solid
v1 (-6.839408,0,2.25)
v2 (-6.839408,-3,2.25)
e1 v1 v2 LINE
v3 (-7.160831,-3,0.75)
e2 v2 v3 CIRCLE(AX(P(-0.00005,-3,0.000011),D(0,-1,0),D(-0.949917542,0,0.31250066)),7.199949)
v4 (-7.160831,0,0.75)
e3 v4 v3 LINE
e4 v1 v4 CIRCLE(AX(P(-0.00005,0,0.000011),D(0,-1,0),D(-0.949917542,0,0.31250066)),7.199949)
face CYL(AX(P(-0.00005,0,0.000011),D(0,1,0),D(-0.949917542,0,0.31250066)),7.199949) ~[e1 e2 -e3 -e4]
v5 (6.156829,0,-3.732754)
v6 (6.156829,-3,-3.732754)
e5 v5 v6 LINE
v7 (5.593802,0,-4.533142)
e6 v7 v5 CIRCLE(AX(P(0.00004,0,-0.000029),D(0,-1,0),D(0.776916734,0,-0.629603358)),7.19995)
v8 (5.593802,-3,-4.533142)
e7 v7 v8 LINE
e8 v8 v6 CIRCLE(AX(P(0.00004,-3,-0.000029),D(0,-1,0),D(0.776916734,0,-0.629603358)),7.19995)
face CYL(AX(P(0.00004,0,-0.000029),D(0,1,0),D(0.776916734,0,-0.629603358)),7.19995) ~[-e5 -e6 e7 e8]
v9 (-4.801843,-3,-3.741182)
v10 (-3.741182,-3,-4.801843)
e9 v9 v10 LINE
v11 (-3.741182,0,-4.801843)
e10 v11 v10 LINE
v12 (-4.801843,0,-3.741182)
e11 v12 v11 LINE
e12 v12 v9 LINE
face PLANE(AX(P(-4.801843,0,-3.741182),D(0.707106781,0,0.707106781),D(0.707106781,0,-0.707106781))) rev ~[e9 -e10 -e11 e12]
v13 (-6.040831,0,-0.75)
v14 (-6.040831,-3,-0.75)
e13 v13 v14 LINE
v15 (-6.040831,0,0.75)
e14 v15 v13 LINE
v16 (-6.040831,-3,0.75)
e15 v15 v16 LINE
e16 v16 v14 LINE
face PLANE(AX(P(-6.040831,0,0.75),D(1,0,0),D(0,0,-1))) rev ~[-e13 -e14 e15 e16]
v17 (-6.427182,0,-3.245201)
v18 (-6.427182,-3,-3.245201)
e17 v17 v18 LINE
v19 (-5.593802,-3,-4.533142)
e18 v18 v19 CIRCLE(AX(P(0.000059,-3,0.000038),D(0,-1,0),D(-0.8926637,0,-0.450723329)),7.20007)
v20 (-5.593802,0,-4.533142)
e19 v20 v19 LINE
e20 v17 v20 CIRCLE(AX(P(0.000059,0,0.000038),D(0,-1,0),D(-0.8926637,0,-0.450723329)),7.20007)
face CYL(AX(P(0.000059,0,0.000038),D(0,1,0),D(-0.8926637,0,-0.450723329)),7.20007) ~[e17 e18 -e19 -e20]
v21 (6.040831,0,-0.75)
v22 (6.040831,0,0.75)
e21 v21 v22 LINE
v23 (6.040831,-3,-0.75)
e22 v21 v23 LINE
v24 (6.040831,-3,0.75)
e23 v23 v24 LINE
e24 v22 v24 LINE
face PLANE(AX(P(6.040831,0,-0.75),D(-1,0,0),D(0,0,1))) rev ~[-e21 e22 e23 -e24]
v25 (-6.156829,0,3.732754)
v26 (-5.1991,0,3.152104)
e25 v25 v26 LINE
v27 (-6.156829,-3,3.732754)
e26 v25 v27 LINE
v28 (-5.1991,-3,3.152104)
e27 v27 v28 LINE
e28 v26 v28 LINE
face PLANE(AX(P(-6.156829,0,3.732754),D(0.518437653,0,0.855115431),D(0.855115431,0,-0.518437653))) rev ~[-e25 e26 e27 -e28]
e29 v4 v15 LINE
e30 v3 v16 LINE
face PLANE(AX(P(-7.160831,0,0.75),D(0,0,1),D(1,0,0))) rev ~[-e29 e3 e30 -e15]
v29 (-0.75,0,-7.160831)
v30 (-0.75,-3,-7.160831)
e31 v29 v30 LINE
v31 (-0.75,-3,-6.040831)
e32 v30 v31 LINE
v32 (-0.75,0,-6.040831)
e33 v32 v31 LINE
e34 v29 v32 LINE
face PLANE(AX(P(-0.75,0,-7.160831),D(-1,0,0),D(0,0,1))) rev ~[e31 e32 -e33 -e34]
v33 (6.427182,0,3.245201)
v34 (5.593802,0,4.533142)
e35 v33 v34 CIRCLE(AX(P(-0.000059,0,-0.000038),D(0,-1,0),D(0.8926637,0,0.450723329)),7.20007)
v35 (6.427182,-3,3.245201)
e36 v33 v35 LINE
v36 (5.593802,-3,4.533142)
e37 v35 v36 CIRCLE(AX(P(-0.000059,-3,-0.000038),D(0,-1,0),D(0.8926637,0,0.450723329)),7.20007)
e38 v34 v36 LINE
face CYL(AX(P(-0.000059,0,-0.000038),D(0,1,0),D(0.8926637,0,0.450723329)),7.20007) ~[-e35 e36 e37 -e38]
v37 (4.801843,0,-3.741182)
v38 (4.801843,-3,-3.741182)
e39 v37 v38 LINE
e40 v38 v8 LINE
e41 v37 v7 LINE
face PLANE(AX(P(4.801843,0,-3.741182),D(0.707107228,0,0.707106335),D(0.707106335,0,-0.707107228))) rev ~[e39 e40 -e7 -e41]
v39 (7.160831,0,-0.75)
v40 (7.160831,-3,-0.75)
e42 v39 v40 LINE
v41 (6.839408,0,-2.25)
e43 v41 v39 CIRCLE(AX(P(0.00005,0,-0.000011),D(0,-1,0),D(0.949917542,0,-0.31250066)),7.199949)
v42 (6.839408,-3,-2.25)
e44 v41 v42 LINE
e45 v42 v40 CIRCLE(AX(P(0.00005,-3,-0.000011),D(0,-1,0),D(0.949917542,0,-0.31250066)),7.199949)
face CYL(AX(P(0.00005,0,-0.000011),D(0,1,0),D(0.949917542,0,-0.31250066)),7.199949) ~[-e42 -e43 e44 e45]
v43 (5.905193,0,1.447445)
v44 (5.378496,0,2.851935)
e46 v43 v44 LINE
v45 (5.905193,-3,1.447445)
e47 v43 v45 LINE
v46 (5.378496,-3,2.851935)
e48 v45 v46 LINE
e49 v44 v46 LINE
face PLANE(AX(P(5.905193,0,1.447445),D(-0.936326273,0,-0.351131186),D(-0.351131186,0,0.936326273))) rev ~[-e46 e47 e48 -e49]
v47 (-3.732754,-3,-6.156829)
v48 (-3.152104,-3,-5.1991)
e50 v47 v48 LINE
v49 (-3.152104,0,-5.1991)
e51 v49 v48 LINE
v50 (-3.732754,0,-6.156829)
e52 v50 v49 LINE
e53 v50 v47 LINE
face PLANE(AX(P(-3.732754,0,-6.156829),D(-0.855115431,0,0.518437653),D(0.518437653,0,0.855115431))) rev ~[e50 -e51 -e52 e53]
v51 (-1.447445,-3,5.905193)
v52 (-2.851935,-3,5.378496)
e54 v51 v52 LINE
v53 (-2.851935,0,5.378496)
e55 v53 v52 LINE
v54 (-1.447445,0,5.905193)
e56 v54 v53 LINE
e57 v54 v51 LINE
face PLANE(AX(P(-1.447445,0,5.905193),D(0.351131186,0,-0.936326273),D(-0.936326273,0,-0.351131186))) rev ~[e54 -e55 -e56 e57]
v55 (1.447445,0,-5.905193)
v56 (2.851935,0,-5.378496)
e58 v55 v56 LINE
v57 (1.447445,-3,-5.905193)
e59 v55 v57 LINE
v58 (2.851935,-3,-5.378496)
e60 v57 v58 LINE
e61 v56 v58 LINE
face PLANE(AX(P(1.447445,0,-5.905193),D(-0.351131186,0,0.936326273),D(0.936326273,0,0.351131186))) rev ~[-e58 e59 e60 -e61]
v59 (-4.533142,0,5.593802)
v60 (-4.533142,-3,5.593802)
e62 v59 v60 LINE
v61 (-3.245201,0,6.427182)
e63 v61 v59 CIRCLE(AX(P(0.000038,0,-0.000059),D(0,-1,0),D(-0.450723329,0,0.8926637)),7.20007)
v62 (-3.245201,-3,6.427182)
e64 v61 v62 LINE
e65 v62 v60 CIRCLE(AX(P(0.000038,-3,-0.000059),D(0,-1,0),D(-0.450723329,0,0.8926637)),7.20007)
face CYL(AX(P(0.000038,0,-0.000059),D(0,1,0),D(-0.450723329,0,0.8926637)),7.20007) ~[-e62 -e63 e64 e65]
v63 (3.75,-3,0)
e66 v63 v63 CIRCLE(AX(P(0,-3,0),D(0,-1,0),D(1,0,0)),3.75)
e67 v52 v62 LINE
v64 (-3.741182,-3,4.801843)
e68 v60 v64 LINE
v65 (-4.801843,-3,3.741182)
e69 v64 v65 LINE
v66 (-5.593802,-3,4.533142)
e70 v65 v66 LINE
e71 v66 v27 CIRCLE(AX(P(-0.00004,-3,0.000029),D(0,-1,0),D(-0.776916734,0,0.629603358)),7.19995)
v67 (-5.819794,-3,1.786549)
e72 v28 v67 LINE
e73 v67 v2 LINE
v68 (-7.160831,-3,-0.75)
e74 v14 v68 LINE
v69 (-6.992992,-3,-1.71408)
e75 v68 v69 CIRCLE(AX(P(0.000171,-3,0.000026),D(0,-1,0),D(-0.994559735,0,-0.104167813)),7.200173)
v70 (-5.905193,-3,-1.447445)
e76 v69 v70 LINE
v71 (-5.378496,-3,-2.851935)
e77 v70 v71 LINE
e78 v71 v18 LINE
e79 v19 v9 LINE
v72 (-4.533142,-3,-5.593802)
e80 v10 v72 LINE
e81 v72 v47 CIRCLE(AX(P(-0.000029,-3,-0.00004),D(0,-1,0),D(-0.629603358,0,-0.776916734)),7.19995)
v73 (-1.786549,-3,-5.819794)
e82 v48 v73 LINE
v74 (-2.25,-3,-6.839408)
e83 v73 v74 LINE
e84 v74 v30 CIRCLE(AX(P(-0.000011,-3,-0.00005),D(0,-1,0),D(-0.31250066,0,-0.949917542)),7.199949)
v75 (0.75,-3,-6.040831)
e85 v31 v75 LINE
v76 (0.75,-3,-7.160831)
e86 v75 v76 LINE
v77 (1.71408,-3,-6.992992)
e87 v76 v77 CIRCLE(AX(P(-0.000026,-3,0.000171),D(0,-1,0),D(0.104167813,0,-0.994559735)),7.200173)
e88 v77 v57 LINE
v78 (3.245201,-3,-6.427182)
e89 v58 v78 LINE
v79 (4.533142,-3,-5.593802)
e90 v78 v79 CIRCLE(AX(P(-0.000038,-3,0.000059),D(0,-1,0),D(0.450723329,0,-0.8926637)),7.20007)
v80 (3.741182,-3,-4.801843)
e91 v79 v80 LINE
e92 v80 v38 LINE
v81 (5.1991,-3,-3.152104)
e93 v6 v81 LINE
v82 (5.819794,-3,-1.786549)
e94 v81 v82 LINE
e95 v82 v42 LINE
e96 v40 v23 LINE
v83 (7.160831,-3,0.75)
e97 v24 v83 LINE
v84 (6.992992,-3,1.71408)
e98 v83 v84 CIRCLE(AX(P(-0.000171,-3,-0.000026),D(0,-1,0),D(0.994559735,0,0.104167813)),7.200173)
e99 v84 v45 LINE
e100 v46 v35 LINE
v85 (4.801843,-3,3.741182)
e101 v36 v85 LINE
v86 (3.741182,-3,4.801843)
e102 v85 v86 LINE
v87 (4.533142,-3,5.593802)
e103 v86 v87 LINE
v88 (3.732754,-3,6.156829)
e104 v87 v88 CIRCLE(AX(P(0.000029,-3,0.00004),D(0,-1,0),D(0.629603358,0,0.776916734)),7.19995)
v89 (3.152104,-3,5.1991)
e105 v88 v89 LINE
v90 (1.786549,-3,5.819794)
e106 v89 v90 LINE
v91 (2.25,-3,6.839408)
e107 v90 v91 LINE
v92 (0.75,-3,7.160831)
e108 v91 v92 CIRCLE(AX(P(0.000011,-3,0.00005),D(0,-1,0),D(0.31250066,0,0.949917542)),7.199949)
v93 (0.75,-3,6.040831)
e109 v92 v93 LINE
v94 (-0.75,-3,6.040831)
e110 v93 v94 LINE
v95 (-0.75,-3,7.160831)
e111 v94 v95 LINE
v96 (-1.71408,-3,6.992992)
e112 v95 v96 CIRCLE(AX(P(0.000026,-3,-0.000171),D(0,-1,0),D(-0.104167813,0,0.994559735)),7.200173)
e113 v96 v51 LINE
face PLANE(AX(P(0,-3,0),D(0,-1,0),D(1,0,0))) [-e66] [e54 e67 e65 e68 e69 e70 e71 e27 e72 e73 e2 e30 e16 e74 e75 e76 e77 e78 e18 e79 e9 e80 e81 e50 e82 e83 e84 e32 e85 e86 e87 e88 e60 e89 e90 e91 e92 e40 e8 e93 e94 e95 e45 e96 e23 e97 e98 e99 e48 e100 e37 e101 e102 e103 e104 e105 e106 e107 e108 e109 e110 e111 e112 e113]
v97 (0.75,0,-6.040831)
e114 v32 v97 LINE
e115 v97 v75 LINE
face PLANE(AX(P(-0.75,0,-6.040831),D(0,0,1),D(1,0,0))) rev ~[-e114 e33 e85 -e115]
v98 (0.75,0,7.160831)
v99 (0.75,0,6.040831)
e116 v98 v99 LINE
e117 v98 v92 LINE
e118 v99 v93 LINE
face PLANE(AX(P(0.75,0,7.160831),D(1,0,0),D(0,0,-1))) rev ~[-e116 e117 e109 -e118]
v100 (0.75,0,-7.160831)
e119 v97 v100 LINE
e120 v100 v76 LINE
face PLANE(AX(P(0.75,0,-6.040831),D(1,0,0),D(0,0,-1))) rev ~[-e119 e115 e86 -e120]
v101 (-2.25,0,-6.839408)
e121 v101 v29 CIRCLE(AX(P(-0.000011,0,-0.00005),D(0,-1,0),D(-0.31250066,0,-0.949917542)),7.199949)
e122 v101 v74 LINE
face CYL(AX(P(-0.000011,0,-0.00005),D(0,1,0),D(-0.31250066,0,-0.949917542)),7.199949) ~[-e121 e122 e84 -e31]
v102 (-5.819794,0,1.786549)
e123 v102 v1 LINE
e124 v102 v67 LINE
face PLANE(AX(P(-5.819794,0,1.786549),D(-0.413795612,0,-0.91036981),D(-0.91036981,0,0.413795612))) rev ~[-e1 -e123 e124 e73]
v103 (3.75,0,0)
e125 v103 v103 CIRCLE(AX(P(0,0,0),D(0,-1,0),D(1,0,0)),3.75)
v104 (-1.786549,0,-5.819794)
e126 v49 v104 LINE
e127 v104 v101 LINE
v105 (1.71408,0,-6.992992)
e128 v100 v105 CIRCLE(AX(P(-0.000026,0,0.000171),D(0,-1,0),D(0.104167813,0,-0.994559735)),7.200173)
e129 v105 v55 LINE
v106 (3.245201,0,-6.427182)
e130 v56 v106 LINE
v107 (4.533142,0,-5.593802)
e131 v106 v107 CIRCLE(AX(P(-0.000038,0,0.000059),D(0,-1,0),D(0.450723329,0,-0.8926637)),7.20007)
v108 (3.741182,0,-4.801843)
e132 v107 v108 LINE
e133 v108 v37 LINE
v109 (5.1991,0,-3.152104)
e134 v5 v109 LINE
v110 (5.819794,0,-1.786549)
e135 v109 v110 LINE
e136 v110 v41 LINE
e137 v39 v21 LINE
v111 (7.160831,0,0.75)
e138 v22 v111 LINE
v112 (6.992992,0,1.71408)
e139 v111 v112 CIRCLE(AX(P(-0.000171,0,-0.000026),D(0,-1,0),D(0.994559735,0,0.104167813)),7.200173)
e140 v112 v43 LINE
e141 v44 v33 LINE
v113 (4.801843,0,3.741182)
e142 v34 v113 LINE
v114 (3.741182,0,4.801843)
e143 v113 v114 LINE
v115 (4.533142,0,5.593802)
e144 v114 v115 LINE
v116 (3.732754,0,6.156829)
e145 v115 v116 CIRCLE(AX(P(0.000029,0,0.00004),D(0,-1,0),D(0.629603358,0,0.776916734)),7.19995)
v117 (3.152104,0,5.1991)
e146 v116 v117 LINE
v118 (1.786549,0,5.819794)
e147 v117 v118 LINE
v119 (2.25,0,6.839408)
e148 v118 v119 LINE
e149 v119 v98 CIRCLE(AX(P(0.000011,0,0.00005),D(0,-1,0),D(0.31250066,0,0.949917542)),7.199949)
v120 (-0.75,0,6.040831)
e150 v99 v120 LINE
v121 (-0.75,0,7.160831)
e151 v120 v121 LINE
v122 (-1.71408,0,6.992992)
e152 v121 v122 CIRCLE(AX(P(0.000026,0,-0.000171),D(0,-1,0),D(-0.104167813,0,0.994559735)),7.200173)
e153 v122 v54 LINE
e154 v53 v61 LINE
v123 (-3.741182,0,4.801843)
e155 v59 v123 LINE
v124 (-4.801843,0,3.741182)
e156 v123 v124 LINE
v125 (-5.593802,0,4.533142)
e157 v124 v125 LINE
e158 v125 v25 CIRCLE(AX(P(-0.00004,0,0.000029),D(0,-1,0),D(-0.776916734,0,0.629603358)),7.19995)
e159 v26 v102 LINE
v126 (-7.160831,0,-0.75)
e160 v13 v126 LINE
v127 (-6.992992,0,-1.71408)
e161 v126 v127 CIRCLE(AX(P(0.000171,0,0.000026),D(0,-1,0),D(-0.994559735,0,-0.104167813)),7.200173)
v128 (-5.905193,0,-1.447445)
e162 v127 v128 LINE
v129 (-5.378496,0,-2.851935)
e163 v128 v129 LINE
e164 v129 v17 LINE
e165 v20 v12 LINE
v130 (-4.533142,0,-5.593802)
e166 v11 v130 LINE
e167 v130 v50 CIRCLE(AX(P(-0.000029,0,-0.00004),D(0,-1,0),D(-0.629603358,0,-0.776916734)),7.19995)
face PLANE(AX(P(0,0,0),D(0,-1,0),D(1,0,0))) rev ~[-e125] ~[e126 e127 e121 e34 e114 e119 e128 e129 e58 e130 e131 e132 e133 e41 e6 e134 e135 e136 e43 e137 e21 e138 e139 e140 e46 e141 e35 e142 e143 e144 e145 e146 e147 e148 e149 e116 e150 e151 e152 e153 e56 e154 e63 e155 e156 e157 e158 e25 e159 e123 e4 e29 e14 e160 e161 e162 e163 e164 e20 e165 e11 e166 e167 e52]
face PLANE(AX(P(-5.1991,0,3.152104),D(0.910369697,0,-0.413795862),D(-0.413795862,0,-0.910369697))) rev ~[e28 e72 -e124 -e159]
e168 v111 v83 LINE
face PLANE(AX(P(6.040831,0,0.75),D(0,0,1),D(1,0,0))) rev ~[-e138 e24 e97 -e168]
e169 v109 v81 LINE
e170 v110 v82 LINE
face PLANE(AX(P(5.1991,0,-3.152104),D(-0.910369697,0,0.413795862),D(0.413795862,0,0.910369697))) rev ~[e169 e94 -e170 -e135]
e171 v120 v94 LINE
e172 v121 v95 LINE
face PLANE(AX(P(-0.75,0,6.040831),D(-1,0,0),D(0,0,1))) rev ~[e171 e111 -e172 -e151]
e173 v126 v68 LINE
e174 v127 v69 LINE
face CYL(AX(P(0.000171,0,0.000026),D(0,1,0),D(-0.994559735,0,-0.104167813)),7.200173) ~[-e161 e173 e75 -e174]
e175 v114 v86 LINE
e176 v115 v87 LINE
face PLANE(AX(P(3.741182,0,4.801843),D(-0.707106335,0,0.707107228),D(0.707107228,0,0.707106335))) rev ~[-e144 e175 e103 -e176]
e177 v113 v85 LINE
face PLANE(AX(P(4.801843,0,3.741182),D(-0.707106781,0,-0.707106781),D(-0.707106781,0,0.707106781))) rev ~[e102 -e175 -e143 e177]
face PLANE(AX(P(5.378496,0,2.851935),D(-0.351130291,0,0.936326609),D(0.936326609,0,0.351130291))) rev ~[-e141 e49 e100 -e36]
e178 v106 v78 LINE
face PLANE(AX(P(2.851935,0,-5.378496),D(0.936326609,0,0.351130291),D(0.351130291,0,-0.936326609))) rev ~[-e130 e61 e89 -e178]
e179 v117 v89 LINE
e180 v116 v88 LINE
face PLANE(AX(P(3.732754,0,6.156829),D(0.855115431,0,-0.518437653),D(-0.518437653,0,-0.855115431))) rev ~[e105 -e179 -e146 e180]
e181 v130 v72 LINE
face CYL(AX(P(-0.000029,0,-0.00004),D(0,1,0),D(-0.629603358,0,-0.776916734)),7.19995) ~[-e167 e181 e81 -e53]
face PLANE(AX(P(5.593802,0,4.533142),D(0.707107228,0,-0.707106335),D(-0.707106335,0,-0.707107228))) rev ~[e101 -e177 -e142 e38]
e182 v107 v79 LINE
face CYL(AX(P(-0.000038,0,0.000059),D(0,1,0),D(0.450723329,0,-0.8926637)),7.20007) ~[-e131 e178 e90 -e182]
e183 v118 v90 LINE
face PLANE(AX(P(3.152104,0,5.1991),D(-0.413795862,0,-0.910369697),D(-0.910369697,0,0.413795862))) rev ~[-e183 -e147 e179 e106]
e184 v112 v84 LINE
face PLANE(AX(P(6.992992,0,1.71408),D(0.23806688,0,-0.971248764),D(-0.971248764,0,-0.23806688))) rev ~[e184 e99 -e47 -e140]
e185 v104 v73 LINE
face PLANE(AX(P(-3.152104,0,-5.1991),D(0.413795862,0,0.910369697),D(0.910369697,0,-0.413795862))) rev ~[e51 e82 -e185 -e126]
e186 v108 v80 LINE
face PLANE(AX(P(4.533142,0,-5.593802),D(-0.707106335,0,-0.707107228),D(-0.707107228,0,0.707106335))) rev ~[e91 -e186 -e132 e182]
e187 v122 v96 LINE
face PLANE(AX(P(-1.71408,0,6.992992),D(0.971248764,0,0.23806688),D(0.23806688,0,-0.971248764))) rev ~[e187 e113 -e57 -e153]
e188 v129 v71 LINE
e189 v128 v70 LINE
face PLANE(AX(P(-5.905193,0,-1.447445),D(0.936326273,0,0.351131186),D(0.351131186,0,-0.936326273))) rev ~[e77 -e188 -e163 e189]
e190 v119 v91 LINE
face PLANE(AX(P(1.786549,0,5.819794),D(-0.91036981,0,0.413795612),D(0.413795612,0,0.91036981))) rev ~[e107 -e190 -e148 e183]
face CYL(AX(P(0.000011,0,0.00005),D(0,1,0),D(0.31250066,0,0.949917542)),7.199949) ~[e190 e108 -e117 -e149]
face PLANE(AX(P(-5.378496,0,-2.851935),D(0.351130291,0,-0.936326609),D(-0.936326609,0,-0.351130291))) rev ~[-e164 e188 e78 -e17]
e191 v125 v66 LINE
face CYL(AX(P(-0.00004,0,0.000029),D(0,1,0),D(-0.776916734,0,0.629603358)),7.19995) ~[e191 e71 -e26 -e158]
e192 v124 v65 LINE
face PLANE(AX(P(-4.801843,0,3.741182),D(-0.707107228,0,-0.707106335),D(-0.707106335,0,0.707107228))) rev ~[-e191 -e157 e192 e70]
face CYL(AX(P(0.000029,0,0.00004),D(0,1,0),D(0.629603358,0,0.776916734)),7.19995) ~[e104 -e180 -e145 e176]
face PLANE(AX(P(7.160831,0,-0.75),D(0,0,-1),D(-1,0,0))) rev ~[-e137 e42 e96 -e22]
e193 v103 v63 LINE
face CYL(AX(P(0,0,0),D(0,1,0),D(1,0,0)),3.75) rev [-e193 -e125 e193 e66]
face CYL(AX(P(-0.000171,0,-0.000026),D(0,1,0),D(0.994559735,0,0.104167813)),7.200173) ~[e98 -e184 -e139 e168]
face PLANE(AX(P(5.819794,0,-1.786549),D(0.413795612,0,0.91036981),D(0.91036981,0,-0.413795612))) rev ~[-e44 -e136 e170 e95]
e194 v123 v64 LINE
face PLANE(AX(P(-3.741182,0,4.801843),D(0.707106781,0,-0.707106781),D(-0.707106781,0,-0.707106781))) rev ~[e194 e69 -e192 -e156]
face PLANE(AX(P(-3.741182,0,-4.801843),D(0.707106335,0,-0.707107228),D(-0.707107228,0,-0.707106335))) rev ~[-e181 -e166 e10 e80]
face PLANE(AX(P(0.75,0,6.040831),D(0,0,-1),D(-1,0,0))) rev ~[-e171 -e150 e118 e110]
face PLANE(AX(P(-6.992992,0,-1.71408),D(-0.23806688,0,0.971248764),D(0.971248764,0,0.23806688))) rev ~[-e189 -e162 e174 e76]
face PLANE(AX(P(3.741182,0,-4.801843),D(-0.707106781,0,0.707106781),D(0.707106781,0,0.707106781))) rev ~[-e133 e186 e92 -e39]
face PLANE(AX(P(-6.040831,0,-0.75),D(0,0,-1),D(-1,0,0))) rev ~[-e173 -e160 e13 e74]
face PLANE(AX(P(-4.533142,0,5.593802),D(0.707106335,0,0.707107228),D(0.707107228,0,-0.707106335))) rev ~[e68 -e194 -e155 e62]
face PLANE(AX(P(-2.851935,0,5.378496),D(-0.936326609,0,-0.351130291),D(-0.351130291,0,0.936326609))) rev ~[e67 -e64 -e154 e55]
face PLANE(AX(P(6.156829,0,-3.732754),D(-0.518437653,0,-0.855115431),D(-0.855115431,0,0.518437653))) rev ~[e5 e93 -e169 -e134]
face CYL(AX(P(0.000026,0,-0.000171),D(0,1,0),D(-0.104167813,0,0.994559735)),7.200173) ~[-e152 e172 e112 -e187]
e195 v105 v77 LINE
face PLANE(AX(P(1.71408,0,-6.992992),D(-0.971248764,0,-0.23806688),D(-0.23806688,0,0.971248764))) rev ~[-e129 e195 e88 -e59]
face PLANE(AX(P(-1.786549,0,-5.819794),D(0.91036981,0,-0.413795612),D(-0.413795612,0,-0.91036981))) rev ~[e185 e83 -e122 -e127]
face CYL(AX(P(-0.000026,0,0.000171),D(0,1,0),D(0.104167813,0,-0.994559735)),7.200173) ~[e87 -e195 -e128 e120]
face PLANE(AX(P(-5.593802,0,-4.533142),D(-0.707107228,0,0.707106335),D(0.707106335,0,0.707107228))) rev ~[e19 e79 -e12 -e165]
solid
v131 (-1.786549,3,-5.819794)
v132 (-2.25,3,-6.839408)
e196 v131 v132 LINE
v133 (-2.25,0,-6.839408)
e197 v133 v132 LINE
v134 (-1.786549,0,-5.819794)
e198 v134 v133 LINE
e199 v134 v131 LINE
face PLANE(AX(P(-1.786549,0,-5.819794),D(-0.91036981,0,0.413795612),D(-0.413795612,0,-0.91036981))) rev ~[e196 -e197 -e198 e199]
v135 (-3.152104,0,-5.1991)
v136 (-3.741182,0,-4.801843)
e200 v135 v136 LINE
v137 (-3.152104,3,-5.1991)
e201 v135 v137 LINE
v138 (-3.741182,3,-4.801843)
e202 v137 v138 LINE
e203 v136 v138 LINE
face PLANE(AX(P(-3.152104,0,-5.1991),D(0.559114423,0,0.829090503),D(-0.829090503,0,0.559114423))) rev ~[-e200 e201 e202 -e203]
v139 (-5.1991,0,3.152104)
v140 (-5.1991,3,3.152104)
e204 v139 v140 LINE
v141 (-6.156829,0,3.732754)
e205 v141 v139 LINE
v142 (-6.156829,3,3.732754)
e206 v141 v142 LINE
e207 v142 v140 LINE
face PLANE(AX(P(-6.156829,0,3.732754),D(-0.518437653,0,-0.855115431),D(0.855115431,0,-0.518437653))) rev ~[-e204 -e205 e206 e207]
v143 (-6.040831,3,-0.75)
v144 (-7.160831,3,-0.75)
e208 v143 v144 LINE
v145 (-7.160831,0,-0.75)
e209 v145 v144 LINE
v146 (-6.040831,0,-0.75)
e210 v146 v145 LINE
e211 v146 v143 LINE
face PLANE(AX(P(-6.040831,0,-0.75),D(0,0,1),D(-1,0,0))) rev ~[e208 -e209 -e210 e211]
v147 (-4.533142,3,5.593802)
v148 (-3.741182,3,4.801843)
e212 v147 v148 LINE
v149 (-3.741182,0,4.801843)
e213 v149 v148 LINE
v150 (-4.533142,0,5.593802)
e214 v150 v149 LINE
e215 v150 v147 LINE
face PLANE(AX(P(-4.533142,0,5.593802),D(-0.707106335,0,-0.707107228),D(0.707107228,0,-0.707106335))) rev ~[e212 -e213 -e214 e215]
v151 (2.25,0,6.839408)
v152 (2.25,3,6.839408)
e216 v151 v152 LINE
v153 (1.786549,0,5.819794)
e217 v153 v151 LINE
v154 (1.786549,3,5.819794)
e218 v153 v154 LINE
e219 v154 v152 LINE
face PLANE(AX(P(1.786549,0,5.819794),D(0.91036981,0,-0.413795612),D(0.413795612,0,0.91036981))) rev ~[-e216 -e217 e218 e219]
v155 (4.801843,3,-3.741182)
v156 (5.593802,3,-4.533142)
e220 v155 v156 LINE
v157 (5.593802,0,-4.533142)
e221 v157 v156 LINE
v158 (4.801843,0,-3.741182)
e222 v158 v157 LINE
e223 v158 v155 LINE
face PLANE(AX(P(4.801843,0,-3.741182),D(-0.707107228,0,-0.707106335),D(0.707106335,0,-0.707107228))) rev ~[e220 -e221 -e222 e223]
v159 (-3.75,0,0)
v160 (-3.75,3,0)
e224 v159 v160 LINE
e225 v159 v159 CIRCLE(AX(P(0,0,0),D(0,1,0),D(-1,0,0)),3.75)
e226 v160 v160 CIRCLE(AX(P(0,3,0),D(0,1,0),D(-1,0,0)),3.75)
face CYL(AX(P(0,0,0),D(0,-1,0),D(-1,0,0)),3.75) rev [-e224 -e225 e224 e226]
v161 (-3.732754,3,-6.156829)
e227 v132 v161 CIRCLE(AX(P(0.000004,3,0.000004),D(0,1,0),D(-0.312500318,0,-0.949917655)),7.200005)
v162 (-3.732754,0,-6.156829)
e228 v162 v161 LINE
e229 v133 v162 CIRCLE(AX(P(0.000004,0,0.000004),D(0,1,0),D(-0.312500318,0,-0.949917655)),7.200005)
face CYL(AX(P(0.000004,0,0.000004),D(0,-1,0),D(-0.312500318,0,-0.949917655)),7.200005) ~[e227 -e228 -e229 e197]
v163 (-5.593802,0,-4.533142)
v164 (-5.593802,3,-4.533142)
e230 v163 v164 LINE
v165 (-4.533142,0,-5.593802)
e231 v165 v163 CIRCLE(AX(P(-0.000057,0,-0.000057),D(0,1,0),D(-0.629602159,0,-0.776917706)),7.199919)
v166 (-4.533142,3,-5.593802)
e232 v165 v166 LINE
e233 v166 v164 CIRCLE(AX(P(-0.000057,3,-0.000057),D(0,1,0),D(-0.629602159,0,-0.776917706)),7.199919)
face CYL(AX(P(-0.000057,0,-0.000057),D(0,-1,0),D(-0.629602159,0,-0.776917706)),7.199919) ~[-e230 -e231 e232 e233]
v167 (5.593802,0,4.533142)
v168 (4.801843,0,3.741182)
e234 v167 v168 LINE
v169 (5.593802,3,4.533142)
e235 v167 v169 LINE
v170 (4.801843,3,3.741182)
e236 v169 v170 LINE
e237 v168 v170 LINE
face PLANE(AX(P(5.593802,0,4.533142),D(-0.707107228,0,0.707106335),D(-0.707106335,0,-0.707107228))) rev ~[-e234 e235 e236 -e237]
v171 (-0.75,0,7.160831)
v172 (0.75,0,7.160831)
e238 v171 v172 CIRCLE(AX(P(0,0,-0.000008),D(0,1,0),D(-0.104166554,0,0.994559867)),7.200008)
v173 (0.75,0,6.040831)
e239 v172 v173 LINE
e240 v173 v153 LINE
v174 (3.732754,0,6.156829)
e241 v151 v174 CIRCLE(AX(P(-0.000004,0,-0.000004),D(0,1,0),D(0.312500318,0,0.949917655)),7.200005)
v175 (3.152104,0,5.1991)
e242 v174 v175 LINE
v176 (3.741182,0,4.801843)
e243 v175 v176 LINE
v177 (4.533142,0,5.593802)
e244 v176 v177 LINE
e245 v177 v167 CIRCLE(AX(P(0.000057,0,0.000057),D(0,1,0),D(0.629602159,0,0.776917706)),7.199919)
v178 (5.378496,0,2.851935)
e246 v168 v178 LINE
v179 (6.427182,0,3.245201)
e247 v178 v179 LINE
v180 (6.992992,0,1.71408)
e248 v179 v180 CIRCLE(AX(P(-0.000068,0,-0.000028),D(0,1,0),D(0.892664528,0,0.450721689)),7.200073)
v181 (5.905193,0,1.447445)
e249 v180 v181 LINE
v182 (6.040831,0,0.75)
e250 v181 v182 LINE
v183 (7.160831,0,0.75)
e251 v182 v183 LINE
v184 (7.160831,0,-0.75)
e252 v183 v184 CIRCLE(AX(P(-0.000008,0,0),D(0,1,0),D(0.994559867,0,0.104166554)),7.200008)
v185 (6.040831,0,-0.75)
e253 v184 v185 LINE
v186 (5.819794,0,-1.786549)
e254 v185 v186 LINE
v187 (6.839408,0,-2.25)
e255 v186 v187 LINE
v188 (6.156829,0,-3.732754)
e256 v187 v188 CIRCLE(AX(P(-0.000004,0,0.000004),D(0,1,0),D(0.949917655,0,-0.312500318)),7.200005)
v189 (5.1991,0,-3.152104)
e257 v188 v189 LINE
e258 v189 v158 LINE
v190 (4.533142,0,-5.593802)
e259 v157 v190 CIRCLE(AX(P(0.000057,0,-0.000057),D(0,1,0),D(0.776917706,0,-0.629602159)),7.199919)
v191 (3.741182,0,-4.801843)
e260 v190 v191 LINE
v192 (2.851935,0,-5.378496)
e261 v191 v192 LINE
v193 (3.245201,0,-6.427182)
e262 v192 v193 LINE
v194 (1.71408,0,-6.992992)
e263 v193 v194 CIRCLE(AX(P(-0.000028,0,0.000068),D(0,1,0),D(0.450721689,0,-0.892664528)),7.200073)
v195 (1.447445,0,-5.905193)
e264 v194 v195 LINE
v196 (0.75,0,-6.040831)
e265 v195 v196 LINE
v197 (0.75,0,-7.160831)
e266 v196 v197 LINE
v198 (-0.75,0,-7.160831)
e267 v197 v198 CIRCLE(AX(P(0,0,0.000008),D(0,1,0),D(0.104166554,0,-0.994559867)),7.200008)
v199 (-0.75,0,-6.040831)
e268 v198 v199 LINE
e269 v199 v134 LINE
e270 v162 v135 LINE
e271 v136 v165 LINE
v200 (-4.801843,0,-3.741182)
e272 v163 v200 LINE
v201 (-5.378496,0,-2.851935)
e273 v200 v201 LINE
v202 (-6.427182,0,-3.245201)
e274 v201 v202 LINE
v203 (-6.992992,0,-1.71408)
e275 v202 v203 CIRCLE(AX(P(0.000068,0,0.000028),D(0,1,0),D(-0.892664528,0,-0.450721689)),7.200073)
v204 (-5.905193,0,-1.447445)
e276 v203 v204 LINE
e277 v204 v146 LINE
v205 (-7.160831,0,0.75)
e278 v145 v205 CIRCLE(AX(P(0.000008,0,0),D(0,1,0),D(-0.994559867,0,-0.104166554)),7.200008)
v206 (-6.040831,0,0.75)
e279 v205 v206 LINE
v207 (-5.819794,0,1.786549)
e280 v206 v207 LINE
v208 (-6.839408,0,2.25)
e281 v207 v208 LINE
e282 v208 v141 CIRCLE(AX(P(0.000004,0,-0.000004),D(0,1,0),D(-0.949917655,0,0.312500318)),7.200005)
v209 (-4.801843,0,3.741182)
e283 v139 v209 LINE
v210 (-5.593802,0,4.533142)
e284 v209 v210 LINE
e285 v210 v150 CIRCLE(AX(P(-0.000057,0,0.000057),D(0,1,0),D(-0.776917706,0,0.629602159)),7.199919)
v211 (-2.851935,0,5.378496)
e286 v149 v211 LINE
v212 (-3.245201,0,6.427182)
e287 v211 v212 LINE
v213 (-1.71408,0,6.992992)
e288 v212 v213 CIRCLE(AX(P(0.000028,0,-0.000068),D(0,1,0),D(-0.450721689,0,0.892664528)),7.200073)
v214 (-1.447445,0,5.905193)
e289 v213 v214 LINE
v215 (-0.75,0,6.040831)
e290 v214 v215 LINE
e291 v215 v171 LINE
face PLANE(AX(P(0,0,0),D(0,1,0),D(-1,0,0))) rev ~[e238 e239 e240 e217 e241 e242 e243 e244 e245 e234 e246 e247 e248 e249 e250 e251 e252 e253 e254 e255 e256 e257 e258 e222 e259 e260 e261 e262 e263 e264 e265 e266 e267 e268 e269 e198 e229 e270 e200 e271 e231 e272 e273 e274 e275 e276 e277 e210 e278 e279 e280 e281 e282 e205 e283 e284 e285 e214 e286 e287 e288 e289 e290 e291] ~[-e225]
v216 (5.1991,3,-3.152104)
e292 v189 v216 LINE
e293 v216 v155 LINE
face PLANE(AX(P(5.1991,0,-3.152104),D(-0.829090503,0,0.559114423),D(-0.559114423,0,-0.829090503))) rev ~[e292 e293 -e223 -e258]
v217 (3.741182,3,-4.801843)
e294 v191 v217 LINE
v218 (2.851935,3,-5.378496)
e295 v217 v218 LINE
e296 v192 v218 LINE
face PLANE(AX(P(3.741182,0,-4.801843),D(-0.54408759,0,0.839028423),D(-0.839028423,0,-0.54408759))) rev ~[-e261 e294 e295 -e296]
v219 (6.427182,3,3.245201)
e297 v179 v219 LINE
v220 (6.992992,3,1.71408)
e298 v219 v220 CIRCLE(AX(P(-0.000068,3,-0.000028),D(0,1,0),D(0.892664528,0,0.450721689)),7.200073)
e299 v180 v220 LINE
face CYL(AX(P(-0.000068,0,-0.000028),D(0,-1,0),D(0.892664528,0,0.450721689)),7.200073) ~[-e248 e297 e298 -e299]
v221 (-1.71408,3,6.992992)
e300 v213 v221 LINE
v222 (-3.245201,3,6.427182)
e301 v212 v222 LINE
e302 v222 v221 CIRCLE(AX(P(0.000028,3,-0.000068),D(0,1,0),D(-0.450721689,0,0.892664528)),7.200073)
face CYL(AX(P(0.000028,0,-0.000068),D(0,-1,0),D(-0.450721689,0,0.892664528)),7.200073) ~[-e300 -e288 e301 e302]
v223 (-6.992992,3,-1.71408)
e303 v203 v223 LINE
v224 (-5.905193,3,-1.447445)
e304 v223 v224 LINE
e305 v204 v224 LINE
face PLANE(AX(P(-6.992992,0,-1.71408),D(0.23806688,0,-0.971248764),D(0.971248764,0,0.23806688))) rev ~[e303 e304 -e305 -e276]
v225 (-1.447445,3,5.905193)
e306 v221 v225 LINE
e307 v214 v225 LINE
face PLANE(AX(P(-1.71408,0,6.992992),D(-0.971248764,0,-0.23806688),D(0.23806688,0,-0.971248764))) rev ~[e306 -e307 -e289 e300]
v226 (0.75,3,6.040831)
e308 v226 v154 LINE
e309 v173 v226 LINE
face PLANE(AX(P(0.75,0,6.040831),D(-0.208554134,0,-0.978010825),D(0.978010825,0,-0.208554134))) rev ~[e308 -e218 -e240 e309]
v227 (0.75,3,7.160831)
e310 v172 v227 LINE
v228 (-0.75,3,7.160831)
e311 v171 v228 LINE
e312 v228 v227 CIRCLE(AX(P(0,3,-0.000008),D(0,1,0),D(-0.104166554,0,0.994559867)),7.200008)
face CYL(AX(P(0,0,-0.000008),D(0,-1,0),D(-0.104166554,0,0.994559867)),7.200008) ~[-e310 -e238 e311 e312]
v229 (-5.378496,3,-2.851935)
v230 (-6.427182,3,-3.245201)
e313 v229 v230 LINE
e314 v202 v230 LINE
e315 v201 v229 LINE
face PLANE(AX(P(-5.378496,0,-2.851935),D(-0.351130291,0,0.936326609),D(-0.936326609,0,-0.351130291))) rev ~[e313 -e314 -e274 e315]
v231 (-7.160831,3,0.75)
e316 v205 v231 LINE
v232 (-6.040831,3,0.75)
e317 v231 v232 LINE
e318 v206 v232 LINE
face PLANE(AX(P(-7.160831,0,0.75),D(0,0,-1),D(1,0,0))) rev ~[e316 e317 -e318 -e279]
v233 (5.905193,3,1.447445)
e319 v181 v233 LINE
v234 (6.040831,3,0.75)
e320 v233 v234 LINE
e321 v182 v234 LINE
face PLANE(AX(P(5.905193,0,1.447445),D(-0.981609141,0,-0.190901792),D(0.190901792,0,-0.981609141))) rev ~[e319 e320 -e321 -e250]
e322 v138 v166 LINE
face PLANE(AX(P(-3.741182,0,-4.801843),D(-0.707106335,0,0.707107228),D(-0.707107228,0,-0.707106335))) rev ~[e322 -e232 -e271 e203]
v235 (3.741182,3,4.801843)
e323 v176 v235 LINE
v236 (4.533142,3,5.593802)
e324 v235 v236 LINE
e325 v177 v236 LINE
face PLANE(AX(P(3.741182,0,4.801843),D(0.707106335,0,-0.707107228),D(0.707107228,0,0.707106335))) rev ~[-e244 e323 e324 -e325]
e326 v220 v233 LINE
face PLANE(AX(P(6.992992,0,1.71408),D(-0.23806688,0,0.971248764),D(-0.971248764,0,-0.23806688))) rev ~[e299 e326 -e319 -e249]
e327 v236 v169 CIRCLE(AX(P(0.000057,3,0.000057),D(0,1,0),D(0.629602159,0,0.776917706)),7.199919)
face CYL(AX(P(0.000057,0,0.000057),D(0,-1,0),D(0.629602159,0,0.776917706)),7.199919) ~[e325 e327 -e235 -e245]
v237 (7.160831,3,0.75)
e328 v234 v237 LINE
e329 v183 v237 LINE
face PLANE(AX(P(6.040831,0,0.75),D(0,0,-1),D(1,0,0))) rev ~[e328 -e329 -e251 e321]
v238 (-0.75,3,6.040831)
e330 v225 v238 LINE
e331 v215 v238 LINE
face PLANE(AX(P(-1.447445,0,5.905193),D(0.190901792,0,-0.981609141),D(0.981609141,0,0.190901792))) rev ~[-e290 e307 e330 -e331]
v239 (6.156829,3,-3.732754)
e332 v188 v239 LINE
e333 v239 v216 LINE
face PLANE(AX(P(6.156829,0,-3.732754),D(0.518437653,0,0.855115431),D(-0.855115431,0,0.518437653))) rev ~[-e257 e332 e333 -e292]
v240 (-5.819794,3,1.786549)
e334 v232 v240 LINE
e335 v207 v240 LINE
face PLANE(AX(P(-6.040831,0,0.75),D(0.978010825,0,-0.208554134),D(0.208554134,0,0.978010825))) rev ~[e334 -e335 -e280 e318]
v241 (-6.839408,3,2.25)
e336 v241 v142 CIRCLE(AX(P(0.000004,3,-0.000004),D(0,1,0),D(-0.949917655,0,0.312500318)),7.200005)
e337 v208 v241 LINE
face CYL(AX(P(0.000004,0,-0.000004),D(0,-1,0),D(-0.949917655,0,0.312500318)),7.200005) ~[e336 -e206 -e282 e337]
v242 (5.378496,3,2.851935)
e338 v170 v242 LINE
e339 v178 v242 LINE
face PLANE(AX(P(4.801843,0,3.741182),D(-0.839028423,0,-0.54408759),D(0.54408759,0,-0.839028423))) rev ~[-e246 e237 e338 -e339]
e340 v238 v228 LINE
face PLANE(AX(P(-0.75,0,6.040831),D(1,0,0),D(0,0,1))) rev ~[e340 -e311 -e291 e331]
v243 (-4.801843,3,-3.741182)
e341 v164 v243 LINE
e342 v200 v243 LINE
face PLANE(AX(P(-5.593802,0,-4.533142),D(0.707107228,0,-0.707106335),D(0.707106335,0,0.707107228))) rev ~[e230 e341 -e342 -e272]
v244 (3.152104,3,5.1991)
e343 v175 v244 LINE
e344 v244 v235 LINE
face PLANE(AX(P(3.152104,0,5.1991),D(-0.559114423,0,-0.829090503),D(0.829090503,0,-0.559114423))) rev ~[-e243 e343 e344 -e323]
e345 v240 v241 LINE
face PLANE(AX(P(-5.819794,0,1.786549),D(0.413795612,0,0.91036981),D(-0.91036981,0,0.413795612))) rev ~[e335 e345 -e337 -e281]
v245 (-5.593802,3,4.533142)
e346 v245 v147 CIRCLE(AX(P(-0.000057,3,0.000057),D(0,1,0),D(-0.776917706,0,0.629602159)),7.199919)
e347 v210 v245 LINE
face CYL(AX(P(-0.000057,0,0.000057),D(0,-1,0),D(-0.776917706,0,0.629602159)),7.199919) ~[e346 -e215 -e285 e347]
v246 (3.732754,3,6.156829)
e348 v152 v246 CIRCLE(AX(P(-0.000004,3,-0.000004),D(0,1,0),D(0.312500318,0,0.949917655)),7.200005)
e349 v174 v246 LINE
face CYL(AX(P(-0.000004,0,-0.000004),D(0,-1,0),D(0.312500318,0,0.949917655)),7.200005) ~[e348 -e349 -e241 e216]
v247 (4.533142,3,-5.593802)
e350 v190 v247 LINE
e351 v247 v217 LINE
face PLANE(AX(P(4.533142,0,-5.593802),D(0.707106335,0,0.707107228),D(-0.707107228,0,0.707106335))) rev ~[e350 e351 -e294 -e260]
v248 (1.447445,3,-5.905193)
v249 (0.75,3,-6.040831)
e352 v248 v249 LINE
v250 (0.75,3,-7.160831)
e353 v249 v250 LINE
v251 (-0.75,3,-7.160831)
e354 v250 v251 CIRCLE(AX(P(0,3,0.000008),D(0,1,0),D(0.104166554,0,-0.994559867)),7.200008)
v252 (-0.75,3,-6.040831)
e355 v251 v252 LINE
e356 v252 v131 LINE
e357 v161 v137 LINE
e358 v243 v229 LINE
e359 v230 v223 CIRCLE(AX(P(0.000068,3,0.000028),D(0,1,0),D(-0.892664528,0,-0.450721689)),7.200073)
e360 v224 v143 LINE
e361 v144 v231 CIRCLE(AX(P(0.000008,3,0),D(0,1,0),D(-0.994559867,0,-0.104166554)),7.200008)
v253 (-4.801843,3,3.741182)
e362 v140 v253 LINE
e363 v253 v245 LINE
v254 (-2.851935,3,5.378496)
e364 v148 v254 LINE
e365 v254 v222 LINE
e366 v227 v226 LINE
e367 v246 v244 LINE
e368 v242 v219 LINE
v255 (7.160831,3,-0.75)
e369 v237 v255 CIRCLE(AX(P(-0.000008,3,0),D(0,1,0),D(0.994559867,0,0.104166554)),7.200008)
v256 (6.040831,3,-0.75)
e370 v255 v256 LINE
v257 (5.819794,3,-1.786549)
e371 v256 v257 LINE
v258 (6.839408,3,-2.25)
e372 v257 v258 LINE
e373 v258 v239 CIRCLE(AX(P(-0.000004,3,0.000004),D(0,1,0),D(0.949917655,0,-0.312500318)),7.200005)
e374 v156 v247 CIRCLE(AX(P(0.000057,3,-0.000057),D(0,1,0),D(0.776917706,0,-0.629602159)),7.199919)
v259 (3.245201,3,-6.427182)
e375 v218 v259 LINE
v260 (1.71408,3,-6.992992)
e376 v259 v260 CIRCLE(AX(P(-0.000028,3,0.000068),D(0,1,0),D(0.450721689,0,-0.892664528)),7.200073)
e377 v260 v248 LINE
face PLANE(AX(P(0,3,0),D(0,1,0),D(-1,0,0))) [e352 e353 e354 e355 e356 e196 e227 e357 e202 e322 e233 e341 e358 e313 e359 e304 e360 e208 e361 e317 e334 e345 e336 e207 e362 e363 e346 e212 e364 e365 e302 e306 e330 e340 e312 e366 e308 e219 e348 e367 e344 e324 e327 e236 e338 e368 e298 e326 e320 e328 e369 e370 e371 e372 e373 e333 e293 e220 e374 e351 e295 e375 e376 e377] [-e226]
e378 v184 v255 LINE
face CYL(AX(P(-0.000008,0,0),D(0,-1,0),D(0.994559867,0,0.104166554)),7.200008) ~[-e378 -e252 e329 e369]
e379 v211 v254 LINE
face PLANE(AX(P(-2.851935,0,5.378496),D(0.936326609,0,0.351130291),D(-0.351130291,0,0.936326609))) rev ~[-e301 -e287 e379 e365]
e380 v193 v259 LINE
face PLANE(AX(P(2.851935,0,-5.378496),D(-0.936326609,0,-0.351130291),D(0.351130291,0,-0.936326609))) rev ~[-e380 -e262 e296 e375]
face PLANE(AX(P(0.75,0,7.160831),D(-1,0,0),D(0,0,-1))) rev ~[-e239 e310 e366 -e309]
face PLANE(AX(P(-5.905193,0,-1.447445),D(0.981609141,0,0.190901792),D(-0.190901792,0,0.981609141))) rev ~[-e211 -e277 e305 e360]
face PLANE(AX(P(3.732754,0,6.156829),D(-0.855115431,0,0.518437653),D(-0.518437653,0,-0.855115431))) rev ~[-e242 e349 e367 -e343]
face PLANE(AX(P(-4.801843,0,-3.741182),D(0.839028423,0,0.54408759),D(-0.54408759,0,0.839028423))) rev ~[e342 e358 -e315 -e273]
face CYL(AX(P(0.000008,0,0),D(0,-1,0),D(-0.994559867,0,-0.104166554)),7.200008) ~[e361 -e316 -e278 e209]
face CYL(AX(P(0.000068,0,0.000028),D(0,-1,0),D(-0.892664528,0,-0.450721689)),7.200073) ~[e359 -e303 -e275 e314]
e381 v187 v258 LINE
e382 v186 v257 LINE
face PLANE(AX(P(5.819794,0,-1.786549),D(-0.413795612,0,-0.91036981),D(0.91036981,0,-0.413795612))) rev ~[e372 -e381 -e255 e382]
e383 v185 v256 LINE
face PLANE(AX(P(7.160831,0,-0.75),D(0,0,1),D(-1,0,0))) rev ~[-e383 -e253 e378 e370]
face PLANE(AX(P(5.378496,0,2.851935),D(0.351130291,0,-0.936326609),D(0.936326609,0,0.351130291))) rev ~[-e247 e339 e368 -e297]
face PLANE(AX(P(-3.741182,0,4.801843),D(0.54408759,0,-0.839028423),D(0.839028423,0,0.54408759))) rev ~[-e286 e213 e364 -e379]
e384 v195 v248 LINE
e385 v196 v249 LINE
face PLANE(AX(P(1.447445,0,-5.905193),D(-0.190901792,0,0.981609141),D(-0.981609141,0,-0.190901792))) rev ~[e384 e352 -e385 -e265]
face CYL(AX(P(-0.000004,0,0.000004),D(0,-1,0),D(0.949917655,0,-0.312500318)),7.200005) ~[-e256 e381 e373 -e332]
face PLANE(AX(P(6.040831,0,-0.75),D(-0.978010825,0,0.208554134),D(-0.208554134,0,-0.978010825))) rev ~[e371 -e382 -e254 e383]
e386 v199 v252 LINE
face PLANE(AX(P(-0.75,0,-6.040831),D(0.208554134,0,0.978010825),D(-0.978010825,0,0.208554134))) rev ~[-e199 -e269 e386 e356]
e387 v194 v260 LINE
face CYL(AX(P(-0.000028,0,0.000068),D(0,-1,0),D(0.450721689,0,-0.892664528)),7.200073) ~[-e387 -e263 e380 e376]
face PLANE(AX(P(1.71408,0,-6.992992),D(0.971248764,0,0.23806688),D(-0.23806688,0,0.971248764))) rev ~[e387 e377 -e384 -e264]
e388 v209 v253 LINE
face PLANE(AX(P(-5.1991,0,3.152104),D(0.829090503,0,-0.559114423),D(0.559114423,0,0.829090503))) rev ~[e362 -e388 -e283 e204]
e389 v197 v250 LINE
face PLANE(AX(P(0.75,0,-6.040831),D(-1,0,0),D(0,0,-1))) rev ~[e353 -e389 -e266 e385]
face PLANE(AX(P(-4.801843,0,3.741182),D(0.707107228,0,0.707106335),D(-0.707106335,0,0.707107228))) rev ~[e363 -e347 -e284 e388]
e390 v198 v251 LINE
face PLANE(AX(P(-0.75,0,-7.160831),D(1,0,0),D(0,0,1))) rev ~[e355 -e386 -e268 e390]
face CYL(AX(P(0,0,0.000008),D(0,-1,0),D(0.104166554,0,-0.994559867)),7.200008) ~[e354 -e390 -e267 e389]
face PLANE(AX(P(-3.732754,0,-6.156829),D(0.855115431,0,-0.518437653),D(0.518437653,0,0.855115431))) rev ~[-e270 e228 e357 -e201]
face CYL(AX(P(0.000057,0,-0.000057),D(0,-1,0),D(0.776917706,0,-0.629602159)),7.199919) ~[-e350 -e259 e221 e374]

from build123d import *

# Parameters (mm, degrees)
F0_R     = 3.75
F1_DEPTH = 3
F2_R     = 3.75
F3_DEPTH = 3


with BuildPart() as f1:
    # F0 (on Front) → F1 (new body)
    with BuildSketch(Plane.XZ):
        with BuildLine():
            Line((-0.75, 6.040831), (-0.75, 7.160831))
            ThreePointArc((-0.75, 7.160831), (-1.234895, 7.093309), (-1.71408, 6.992992))
            Line((-1.71408, 6.992992), (-1.447445, 5.905193))
            Line((-1.447445, 5.905193), (-2.851935, 5.378496))
            Line((-2.851935, 5.378496), (-3.245201, 6.427182))
            ThreePointArc((-3.245201, 6.427182), (-3.91143, 6.044891), (-4.533142, 5.593802))
            Line((-4.533142, 5.593802), (-3.741182, 4.801843))
            Line((-3.741182, 4.801843), (-4.801843, 3.741182))
            Line((-4.801843, 3.741182), (-5.593802, 4.533142))
            ThreePointArc((-5.593802, 4.533142), (-5.888929, 4.142525), (-6.156829, 3.732754))
            Line((-6.156829, 3.732754), (-5.1991, 3.152104))
            Line((-5.1991, 3.152104), (-5.819794, 1.786549))
            Line((-5.819794, 1.786549), (-6.839408, 2.25))
            ThreePointArc((-6.839408, 2.25), (-7.040183, 1.508585), (-7.160831, 0.75))
            Line((-7.160831, 0.75), (-6.040831, 0.75))
            Line((-6.040831, 0.75), (-6.040831, -0.75))
            Line((-6.040831, -0.75), (-7.160831, -0.75))
            ThreePointArc((-7.160831, -0.75), (-7.093309, -1.234895), (-6.992992, -1.71408))
            Line((-6.992992, -1.71408), (-5.905193, -1.447445))
            Line((-5.905193, -1.447445), (-5.378496, -2.851935))
            Line((-5.378496, -2.851935), (-6.427182, -3.245201))
            ThreePointArc((-6.427182, -3.245201), (-6.044891, -3.91143), (-5.593802, -4.533142))
            Line((-5.593802, -4.533142), (-4.801843, -3.741182))
            Line((-4.801843, -3.741182), (-3.741182, -4.801843))
            Line((-3.741182, -4.801843), (-4.533142, -5.593802))
            ThreePointArc((-4.533142, -5.593802), (-4.142525, -5.888929), (-3.732754, -6.156829))
            Line((-3.732754, -6.156829), (-3.152104, -5.1991))
            Line((-3.152104, -5.1991), (-1.786549, -5.819794))
            Line((-1.786549, -5.819794), (-2.25, -6.839408))
            ThreePointArc((-2.25, -6.839408), (-1.508585, -7.040183), (-0.75, -7.160831))
            Line((-0.75, -7.160831), (-0.75, -6.040831))
            Line((-0.75, -6.040831), (0.75, -6.040831))
            Line((0.75, -6.040831), (0.75, -7.160831))
            ThreePointArc((0.75, -7.160831), (1.234895, -7.093309), (1.71408, -6.992992))
            Line((1.71408, -6.992992), (1.447445, -5.905193))
            Line((1.447445, -5.905193), (2.851935, -5.378496))
            Line((2.851935, -5.378496), (3.245201, -6.427182))
            ThreePointArc((3.245201, -6.427182), (3.91143, -6.044891), (4.533142, -5.593802))
            Line((4.533142, -5.593802), (3.741182, -4.801843))
            Line((3.741182, -4.801843), (4.801843, -3.741182))
            Line((4.801843, -3.741182), (5.593802, -4.533142))
            ThreePointArc((5.593802, -4.533142), (5.888929, -4.142525), (6.156829, -3.732754))
            Line((6.156829, -3.732754), (5.1991, -3.152104))
            Line((5.1991, -3.152104), (5.819794, -1.786549))
            Line((5.819794, -1.786549), (6.839408, -2.25))
            ThreePointArc((6.839408, -2.25), (7.040183, -1.508585), (7.160831, -0.75))
            Line((7.160831, -0.75), (6.040831, -0.75))
            Line((6.040831, -0.75), (6.040831, 0.75))
            Line((6.040831, 0.75), (7.160831, 0.75))
            ThreePointArc((7.160831, 0.75), (7.093309, 1.234895), (6.992992, 1.71408))
            Line((6.992992, 1.71408), (5.905193, 1.447445))
            Line((5.905193, 1.447445), (5.378496, 2.851935))
            Line((5.378496, 2.851935), (6.427182, 3.245201))
            ThreePointArc((6.427182, 3.245201), (6.044891, 3.91143), (5.593802, 4.533142))
            Line((5.593802, 4.533142), (4.801843, 3.741182))
            Line((4.801843, 3.741182), (3.741182, 4.801843))
            Line((3.741182, 4.801843), (4.533142, 5.593802))
            ThreePointArc((4.533142, 5.593802), (4.142525, 5.888929), (3.732754, 6.156829))
            Line((3.732754, 6.156829), (3.152104, 5.1991))
            Line((3.152104, 5.1991), (1.786549, 5.819794))
            Line((1.786549, 5.819794), (2.25, 6.839408))
            ThreePointArc((2.25, 6.839408), (1.508585, 7.040183), (0.75, 7.160831))
            Line((0.75, 7.160831), (0.75, 6.040831))
            Line((0.75, 6.040831), (-0.75, 6.040831))
        make_face()
        Circle(F0_R, mode=Mode.SUBTRACT)
    extrude(amount=F1_DEPTH)


with BuildPart() as f3:
    # F2 (on face) → F3 (new body)
    with BuildSketch(Plane(origin=(0, 0, 0), x_dir=(-1, 0, 0), z_dir=(0, 1, 0))):
        with BuildLine():
            Line((-1.786549, 5.819794), (-2.25, 6.839408))
            ThreePointArc((-2.25, 6.839408), (-3.010783, 6.540274), (-3.732754, 6.156829))
            Line((-3.732754, 6.156829), (-3.152104, 5.1991))
            Line((-3.152104, 5.1991), (-3.741182, 4.801843))
            Line((-3.741182, 4.801843), (-4.533142, 5.593802))
            ThreePointArc((-4.533142, 5.593802), (-5.091169, 5.091169), (-5.593802, 4.533142))
            Line((-5.593802, 4.533142), (-4.801843, 3.741182))
            Line((-4.801843, 3.741182), (-5.378496, 2.851935))
            Line((-5.378496, 2.851935), (-6.427182, 3.245201))
            ThreePointArc((-6.427182, 3.245201), (-6.753617, 2.495727), (-6.992992, 1.71408))
            Line((-6.992992, 1.71408), (-5.905193, 1.447445))
            Line((-5.905193, 1.447445), (-6.040831, 0.75))
            Line((-6.040831, 0.75), (-7.160831, 0.75))
            ThreePointArc((-7.160831, 0.75), (-7.2, 0), (-7.160831, -0.75))
            Line((-7.160831, -0.75), (-6.040831, -0.75))
            Line((-6.040831, -0.75), (-5.819794, -1.786549))
            Line((-5.819794, -1.786549), (-6.839408, -2.25))
            ThreePointArc((-6.839408, -2.25), (-6.540274, -3.010783), (-6.156829, -3.732754))
            Line((-6.156829, -3.732754), (-5.1991, -3.152104))
            Line((-5.1991, -3.152104), (-4.801843, -3.741182))
            Line((-4.801843, -3.741182), (-5.593802, -4.533142))
            ThreePointArc((-5.593802, -4.533142), (-5.091169, -5.091169), (-4.533142, -5.593802))
            Line((-4.533142, -5.593802), (-3.741182, -4.801843))
            Line((-3.741182, -4.801843), (-2.851935, -5.378496))
            Line((-2.851935, -5.378496), (-3.245201, -6.427182))
            ThreePointArc((-3.245201, -6.427182), (-2.495727, -6.753617), (-1.71408, -6.992992))
            Line((-1.71408, -6.992992), (-1.447445, -5.905193))
            Line((-1.447445, -5.905193), (-0.75, -6.040831))
            Line((-0.75, -6.040831), (-0.75, -7.160831))
            ThreePointArc((-0.75, -7.160831), (0, -7.2), (0.75, -7.160831))
            Line((0.75, -7.160831), (0.75, -6.040831))
            Line((0.75, -6.040831), (1.786549, -5.819794))
            Line((1.786549, -5.819794), (2.25, -6.839408))
            ThreePointArc((2.25, -6.839408), (3.010783, -6.540274), (3.732754, -6.156829))
            Line((3.732754, -6.156829), (3.152104, -5.1991))
            Line((3.152104, -5.1991), (3.741182, -4.801843))
            Line((3.741182, -4.801843), (4.533142, -5.593802))
            ThreePointArc((4.533142, -5.593802), (5.091169, -5.091169), (5.593802, -4.533142))
            Line((5.593802, -4.533142), (4.801843, -3.741182))
            Line((4.801843, -3.741182), (5.378496, -2.851935))
            Line((5.378496, -2.851935), (6.427182, -3.245201))
            ThreePointArc((6.427182, -3.245201), (6.753617, -2.495727), (6.992992, -1.71408))
            Line((6.992992, -1.71408), (5.905193, -1.447445))
            Line((5.905193, -1.447445), (6.040831, -0.75))
            Line((6.040831, -0.75), (7.160831, -0.75))
            ThreePointArc((7.160831, -0.75), (7.2, 0), (7.160831, 0.75))
            Line((7.160831, 0.75), (6.040831, 0.75))
            Line((6.040831, 0.75), (5.819794, 1.786549))
            Line((5.819794, 1.786549), (6.839408, 2.25))
            ThreePointArc((6.839408, 2.25), (6.540274, 3.010783), (6.156829, 3.732754))
            Line((6.156829, 3.732754), (5.1991, 3.152104))
            Line((5.1991, 3.152104), (4.801843, 3.741182))
            Line((4.801843, 3.741182), (5.593802, 4.533142))
            ThreePointArc((5.593802, 4.533142), (5.091169, 5.091169), (4.533142, 5.593802))
            Line((4.533142, 5.593802), (3.741182, 4.801843))
            Line((3.741182, 4.801843), (2.851935, 5.378496))
            Line((2.851935, 5.378496), (3.245201, 6.427182))
            ThreePointArc((3.245201, 6.427182), (2.495727, 6.753617), (1.71408, 6.992992))
            Line((1.71408, 6.992992), (1.447445, 5.905193))
            Line((1.447445, 5.905193), (0.75, 6.040831))
            Line((0.75, 6.040831), (0.75, 7.160831))
            ThreePointArc((0.75, 7.160831), (0, 7.2), (-0.75, 7.160831))
            Line((-0.75, 7.160831), (-0.75, 6.040831))
            Line((-0.75, 6.040831), (-1.786549, 5.819794))
        make_face()
        Circle(F2_R, mode=Mode.SUBTRACT)
    extrude(amount=F3_DEPTH)


solid = Compound([f1.part, f3.part])
